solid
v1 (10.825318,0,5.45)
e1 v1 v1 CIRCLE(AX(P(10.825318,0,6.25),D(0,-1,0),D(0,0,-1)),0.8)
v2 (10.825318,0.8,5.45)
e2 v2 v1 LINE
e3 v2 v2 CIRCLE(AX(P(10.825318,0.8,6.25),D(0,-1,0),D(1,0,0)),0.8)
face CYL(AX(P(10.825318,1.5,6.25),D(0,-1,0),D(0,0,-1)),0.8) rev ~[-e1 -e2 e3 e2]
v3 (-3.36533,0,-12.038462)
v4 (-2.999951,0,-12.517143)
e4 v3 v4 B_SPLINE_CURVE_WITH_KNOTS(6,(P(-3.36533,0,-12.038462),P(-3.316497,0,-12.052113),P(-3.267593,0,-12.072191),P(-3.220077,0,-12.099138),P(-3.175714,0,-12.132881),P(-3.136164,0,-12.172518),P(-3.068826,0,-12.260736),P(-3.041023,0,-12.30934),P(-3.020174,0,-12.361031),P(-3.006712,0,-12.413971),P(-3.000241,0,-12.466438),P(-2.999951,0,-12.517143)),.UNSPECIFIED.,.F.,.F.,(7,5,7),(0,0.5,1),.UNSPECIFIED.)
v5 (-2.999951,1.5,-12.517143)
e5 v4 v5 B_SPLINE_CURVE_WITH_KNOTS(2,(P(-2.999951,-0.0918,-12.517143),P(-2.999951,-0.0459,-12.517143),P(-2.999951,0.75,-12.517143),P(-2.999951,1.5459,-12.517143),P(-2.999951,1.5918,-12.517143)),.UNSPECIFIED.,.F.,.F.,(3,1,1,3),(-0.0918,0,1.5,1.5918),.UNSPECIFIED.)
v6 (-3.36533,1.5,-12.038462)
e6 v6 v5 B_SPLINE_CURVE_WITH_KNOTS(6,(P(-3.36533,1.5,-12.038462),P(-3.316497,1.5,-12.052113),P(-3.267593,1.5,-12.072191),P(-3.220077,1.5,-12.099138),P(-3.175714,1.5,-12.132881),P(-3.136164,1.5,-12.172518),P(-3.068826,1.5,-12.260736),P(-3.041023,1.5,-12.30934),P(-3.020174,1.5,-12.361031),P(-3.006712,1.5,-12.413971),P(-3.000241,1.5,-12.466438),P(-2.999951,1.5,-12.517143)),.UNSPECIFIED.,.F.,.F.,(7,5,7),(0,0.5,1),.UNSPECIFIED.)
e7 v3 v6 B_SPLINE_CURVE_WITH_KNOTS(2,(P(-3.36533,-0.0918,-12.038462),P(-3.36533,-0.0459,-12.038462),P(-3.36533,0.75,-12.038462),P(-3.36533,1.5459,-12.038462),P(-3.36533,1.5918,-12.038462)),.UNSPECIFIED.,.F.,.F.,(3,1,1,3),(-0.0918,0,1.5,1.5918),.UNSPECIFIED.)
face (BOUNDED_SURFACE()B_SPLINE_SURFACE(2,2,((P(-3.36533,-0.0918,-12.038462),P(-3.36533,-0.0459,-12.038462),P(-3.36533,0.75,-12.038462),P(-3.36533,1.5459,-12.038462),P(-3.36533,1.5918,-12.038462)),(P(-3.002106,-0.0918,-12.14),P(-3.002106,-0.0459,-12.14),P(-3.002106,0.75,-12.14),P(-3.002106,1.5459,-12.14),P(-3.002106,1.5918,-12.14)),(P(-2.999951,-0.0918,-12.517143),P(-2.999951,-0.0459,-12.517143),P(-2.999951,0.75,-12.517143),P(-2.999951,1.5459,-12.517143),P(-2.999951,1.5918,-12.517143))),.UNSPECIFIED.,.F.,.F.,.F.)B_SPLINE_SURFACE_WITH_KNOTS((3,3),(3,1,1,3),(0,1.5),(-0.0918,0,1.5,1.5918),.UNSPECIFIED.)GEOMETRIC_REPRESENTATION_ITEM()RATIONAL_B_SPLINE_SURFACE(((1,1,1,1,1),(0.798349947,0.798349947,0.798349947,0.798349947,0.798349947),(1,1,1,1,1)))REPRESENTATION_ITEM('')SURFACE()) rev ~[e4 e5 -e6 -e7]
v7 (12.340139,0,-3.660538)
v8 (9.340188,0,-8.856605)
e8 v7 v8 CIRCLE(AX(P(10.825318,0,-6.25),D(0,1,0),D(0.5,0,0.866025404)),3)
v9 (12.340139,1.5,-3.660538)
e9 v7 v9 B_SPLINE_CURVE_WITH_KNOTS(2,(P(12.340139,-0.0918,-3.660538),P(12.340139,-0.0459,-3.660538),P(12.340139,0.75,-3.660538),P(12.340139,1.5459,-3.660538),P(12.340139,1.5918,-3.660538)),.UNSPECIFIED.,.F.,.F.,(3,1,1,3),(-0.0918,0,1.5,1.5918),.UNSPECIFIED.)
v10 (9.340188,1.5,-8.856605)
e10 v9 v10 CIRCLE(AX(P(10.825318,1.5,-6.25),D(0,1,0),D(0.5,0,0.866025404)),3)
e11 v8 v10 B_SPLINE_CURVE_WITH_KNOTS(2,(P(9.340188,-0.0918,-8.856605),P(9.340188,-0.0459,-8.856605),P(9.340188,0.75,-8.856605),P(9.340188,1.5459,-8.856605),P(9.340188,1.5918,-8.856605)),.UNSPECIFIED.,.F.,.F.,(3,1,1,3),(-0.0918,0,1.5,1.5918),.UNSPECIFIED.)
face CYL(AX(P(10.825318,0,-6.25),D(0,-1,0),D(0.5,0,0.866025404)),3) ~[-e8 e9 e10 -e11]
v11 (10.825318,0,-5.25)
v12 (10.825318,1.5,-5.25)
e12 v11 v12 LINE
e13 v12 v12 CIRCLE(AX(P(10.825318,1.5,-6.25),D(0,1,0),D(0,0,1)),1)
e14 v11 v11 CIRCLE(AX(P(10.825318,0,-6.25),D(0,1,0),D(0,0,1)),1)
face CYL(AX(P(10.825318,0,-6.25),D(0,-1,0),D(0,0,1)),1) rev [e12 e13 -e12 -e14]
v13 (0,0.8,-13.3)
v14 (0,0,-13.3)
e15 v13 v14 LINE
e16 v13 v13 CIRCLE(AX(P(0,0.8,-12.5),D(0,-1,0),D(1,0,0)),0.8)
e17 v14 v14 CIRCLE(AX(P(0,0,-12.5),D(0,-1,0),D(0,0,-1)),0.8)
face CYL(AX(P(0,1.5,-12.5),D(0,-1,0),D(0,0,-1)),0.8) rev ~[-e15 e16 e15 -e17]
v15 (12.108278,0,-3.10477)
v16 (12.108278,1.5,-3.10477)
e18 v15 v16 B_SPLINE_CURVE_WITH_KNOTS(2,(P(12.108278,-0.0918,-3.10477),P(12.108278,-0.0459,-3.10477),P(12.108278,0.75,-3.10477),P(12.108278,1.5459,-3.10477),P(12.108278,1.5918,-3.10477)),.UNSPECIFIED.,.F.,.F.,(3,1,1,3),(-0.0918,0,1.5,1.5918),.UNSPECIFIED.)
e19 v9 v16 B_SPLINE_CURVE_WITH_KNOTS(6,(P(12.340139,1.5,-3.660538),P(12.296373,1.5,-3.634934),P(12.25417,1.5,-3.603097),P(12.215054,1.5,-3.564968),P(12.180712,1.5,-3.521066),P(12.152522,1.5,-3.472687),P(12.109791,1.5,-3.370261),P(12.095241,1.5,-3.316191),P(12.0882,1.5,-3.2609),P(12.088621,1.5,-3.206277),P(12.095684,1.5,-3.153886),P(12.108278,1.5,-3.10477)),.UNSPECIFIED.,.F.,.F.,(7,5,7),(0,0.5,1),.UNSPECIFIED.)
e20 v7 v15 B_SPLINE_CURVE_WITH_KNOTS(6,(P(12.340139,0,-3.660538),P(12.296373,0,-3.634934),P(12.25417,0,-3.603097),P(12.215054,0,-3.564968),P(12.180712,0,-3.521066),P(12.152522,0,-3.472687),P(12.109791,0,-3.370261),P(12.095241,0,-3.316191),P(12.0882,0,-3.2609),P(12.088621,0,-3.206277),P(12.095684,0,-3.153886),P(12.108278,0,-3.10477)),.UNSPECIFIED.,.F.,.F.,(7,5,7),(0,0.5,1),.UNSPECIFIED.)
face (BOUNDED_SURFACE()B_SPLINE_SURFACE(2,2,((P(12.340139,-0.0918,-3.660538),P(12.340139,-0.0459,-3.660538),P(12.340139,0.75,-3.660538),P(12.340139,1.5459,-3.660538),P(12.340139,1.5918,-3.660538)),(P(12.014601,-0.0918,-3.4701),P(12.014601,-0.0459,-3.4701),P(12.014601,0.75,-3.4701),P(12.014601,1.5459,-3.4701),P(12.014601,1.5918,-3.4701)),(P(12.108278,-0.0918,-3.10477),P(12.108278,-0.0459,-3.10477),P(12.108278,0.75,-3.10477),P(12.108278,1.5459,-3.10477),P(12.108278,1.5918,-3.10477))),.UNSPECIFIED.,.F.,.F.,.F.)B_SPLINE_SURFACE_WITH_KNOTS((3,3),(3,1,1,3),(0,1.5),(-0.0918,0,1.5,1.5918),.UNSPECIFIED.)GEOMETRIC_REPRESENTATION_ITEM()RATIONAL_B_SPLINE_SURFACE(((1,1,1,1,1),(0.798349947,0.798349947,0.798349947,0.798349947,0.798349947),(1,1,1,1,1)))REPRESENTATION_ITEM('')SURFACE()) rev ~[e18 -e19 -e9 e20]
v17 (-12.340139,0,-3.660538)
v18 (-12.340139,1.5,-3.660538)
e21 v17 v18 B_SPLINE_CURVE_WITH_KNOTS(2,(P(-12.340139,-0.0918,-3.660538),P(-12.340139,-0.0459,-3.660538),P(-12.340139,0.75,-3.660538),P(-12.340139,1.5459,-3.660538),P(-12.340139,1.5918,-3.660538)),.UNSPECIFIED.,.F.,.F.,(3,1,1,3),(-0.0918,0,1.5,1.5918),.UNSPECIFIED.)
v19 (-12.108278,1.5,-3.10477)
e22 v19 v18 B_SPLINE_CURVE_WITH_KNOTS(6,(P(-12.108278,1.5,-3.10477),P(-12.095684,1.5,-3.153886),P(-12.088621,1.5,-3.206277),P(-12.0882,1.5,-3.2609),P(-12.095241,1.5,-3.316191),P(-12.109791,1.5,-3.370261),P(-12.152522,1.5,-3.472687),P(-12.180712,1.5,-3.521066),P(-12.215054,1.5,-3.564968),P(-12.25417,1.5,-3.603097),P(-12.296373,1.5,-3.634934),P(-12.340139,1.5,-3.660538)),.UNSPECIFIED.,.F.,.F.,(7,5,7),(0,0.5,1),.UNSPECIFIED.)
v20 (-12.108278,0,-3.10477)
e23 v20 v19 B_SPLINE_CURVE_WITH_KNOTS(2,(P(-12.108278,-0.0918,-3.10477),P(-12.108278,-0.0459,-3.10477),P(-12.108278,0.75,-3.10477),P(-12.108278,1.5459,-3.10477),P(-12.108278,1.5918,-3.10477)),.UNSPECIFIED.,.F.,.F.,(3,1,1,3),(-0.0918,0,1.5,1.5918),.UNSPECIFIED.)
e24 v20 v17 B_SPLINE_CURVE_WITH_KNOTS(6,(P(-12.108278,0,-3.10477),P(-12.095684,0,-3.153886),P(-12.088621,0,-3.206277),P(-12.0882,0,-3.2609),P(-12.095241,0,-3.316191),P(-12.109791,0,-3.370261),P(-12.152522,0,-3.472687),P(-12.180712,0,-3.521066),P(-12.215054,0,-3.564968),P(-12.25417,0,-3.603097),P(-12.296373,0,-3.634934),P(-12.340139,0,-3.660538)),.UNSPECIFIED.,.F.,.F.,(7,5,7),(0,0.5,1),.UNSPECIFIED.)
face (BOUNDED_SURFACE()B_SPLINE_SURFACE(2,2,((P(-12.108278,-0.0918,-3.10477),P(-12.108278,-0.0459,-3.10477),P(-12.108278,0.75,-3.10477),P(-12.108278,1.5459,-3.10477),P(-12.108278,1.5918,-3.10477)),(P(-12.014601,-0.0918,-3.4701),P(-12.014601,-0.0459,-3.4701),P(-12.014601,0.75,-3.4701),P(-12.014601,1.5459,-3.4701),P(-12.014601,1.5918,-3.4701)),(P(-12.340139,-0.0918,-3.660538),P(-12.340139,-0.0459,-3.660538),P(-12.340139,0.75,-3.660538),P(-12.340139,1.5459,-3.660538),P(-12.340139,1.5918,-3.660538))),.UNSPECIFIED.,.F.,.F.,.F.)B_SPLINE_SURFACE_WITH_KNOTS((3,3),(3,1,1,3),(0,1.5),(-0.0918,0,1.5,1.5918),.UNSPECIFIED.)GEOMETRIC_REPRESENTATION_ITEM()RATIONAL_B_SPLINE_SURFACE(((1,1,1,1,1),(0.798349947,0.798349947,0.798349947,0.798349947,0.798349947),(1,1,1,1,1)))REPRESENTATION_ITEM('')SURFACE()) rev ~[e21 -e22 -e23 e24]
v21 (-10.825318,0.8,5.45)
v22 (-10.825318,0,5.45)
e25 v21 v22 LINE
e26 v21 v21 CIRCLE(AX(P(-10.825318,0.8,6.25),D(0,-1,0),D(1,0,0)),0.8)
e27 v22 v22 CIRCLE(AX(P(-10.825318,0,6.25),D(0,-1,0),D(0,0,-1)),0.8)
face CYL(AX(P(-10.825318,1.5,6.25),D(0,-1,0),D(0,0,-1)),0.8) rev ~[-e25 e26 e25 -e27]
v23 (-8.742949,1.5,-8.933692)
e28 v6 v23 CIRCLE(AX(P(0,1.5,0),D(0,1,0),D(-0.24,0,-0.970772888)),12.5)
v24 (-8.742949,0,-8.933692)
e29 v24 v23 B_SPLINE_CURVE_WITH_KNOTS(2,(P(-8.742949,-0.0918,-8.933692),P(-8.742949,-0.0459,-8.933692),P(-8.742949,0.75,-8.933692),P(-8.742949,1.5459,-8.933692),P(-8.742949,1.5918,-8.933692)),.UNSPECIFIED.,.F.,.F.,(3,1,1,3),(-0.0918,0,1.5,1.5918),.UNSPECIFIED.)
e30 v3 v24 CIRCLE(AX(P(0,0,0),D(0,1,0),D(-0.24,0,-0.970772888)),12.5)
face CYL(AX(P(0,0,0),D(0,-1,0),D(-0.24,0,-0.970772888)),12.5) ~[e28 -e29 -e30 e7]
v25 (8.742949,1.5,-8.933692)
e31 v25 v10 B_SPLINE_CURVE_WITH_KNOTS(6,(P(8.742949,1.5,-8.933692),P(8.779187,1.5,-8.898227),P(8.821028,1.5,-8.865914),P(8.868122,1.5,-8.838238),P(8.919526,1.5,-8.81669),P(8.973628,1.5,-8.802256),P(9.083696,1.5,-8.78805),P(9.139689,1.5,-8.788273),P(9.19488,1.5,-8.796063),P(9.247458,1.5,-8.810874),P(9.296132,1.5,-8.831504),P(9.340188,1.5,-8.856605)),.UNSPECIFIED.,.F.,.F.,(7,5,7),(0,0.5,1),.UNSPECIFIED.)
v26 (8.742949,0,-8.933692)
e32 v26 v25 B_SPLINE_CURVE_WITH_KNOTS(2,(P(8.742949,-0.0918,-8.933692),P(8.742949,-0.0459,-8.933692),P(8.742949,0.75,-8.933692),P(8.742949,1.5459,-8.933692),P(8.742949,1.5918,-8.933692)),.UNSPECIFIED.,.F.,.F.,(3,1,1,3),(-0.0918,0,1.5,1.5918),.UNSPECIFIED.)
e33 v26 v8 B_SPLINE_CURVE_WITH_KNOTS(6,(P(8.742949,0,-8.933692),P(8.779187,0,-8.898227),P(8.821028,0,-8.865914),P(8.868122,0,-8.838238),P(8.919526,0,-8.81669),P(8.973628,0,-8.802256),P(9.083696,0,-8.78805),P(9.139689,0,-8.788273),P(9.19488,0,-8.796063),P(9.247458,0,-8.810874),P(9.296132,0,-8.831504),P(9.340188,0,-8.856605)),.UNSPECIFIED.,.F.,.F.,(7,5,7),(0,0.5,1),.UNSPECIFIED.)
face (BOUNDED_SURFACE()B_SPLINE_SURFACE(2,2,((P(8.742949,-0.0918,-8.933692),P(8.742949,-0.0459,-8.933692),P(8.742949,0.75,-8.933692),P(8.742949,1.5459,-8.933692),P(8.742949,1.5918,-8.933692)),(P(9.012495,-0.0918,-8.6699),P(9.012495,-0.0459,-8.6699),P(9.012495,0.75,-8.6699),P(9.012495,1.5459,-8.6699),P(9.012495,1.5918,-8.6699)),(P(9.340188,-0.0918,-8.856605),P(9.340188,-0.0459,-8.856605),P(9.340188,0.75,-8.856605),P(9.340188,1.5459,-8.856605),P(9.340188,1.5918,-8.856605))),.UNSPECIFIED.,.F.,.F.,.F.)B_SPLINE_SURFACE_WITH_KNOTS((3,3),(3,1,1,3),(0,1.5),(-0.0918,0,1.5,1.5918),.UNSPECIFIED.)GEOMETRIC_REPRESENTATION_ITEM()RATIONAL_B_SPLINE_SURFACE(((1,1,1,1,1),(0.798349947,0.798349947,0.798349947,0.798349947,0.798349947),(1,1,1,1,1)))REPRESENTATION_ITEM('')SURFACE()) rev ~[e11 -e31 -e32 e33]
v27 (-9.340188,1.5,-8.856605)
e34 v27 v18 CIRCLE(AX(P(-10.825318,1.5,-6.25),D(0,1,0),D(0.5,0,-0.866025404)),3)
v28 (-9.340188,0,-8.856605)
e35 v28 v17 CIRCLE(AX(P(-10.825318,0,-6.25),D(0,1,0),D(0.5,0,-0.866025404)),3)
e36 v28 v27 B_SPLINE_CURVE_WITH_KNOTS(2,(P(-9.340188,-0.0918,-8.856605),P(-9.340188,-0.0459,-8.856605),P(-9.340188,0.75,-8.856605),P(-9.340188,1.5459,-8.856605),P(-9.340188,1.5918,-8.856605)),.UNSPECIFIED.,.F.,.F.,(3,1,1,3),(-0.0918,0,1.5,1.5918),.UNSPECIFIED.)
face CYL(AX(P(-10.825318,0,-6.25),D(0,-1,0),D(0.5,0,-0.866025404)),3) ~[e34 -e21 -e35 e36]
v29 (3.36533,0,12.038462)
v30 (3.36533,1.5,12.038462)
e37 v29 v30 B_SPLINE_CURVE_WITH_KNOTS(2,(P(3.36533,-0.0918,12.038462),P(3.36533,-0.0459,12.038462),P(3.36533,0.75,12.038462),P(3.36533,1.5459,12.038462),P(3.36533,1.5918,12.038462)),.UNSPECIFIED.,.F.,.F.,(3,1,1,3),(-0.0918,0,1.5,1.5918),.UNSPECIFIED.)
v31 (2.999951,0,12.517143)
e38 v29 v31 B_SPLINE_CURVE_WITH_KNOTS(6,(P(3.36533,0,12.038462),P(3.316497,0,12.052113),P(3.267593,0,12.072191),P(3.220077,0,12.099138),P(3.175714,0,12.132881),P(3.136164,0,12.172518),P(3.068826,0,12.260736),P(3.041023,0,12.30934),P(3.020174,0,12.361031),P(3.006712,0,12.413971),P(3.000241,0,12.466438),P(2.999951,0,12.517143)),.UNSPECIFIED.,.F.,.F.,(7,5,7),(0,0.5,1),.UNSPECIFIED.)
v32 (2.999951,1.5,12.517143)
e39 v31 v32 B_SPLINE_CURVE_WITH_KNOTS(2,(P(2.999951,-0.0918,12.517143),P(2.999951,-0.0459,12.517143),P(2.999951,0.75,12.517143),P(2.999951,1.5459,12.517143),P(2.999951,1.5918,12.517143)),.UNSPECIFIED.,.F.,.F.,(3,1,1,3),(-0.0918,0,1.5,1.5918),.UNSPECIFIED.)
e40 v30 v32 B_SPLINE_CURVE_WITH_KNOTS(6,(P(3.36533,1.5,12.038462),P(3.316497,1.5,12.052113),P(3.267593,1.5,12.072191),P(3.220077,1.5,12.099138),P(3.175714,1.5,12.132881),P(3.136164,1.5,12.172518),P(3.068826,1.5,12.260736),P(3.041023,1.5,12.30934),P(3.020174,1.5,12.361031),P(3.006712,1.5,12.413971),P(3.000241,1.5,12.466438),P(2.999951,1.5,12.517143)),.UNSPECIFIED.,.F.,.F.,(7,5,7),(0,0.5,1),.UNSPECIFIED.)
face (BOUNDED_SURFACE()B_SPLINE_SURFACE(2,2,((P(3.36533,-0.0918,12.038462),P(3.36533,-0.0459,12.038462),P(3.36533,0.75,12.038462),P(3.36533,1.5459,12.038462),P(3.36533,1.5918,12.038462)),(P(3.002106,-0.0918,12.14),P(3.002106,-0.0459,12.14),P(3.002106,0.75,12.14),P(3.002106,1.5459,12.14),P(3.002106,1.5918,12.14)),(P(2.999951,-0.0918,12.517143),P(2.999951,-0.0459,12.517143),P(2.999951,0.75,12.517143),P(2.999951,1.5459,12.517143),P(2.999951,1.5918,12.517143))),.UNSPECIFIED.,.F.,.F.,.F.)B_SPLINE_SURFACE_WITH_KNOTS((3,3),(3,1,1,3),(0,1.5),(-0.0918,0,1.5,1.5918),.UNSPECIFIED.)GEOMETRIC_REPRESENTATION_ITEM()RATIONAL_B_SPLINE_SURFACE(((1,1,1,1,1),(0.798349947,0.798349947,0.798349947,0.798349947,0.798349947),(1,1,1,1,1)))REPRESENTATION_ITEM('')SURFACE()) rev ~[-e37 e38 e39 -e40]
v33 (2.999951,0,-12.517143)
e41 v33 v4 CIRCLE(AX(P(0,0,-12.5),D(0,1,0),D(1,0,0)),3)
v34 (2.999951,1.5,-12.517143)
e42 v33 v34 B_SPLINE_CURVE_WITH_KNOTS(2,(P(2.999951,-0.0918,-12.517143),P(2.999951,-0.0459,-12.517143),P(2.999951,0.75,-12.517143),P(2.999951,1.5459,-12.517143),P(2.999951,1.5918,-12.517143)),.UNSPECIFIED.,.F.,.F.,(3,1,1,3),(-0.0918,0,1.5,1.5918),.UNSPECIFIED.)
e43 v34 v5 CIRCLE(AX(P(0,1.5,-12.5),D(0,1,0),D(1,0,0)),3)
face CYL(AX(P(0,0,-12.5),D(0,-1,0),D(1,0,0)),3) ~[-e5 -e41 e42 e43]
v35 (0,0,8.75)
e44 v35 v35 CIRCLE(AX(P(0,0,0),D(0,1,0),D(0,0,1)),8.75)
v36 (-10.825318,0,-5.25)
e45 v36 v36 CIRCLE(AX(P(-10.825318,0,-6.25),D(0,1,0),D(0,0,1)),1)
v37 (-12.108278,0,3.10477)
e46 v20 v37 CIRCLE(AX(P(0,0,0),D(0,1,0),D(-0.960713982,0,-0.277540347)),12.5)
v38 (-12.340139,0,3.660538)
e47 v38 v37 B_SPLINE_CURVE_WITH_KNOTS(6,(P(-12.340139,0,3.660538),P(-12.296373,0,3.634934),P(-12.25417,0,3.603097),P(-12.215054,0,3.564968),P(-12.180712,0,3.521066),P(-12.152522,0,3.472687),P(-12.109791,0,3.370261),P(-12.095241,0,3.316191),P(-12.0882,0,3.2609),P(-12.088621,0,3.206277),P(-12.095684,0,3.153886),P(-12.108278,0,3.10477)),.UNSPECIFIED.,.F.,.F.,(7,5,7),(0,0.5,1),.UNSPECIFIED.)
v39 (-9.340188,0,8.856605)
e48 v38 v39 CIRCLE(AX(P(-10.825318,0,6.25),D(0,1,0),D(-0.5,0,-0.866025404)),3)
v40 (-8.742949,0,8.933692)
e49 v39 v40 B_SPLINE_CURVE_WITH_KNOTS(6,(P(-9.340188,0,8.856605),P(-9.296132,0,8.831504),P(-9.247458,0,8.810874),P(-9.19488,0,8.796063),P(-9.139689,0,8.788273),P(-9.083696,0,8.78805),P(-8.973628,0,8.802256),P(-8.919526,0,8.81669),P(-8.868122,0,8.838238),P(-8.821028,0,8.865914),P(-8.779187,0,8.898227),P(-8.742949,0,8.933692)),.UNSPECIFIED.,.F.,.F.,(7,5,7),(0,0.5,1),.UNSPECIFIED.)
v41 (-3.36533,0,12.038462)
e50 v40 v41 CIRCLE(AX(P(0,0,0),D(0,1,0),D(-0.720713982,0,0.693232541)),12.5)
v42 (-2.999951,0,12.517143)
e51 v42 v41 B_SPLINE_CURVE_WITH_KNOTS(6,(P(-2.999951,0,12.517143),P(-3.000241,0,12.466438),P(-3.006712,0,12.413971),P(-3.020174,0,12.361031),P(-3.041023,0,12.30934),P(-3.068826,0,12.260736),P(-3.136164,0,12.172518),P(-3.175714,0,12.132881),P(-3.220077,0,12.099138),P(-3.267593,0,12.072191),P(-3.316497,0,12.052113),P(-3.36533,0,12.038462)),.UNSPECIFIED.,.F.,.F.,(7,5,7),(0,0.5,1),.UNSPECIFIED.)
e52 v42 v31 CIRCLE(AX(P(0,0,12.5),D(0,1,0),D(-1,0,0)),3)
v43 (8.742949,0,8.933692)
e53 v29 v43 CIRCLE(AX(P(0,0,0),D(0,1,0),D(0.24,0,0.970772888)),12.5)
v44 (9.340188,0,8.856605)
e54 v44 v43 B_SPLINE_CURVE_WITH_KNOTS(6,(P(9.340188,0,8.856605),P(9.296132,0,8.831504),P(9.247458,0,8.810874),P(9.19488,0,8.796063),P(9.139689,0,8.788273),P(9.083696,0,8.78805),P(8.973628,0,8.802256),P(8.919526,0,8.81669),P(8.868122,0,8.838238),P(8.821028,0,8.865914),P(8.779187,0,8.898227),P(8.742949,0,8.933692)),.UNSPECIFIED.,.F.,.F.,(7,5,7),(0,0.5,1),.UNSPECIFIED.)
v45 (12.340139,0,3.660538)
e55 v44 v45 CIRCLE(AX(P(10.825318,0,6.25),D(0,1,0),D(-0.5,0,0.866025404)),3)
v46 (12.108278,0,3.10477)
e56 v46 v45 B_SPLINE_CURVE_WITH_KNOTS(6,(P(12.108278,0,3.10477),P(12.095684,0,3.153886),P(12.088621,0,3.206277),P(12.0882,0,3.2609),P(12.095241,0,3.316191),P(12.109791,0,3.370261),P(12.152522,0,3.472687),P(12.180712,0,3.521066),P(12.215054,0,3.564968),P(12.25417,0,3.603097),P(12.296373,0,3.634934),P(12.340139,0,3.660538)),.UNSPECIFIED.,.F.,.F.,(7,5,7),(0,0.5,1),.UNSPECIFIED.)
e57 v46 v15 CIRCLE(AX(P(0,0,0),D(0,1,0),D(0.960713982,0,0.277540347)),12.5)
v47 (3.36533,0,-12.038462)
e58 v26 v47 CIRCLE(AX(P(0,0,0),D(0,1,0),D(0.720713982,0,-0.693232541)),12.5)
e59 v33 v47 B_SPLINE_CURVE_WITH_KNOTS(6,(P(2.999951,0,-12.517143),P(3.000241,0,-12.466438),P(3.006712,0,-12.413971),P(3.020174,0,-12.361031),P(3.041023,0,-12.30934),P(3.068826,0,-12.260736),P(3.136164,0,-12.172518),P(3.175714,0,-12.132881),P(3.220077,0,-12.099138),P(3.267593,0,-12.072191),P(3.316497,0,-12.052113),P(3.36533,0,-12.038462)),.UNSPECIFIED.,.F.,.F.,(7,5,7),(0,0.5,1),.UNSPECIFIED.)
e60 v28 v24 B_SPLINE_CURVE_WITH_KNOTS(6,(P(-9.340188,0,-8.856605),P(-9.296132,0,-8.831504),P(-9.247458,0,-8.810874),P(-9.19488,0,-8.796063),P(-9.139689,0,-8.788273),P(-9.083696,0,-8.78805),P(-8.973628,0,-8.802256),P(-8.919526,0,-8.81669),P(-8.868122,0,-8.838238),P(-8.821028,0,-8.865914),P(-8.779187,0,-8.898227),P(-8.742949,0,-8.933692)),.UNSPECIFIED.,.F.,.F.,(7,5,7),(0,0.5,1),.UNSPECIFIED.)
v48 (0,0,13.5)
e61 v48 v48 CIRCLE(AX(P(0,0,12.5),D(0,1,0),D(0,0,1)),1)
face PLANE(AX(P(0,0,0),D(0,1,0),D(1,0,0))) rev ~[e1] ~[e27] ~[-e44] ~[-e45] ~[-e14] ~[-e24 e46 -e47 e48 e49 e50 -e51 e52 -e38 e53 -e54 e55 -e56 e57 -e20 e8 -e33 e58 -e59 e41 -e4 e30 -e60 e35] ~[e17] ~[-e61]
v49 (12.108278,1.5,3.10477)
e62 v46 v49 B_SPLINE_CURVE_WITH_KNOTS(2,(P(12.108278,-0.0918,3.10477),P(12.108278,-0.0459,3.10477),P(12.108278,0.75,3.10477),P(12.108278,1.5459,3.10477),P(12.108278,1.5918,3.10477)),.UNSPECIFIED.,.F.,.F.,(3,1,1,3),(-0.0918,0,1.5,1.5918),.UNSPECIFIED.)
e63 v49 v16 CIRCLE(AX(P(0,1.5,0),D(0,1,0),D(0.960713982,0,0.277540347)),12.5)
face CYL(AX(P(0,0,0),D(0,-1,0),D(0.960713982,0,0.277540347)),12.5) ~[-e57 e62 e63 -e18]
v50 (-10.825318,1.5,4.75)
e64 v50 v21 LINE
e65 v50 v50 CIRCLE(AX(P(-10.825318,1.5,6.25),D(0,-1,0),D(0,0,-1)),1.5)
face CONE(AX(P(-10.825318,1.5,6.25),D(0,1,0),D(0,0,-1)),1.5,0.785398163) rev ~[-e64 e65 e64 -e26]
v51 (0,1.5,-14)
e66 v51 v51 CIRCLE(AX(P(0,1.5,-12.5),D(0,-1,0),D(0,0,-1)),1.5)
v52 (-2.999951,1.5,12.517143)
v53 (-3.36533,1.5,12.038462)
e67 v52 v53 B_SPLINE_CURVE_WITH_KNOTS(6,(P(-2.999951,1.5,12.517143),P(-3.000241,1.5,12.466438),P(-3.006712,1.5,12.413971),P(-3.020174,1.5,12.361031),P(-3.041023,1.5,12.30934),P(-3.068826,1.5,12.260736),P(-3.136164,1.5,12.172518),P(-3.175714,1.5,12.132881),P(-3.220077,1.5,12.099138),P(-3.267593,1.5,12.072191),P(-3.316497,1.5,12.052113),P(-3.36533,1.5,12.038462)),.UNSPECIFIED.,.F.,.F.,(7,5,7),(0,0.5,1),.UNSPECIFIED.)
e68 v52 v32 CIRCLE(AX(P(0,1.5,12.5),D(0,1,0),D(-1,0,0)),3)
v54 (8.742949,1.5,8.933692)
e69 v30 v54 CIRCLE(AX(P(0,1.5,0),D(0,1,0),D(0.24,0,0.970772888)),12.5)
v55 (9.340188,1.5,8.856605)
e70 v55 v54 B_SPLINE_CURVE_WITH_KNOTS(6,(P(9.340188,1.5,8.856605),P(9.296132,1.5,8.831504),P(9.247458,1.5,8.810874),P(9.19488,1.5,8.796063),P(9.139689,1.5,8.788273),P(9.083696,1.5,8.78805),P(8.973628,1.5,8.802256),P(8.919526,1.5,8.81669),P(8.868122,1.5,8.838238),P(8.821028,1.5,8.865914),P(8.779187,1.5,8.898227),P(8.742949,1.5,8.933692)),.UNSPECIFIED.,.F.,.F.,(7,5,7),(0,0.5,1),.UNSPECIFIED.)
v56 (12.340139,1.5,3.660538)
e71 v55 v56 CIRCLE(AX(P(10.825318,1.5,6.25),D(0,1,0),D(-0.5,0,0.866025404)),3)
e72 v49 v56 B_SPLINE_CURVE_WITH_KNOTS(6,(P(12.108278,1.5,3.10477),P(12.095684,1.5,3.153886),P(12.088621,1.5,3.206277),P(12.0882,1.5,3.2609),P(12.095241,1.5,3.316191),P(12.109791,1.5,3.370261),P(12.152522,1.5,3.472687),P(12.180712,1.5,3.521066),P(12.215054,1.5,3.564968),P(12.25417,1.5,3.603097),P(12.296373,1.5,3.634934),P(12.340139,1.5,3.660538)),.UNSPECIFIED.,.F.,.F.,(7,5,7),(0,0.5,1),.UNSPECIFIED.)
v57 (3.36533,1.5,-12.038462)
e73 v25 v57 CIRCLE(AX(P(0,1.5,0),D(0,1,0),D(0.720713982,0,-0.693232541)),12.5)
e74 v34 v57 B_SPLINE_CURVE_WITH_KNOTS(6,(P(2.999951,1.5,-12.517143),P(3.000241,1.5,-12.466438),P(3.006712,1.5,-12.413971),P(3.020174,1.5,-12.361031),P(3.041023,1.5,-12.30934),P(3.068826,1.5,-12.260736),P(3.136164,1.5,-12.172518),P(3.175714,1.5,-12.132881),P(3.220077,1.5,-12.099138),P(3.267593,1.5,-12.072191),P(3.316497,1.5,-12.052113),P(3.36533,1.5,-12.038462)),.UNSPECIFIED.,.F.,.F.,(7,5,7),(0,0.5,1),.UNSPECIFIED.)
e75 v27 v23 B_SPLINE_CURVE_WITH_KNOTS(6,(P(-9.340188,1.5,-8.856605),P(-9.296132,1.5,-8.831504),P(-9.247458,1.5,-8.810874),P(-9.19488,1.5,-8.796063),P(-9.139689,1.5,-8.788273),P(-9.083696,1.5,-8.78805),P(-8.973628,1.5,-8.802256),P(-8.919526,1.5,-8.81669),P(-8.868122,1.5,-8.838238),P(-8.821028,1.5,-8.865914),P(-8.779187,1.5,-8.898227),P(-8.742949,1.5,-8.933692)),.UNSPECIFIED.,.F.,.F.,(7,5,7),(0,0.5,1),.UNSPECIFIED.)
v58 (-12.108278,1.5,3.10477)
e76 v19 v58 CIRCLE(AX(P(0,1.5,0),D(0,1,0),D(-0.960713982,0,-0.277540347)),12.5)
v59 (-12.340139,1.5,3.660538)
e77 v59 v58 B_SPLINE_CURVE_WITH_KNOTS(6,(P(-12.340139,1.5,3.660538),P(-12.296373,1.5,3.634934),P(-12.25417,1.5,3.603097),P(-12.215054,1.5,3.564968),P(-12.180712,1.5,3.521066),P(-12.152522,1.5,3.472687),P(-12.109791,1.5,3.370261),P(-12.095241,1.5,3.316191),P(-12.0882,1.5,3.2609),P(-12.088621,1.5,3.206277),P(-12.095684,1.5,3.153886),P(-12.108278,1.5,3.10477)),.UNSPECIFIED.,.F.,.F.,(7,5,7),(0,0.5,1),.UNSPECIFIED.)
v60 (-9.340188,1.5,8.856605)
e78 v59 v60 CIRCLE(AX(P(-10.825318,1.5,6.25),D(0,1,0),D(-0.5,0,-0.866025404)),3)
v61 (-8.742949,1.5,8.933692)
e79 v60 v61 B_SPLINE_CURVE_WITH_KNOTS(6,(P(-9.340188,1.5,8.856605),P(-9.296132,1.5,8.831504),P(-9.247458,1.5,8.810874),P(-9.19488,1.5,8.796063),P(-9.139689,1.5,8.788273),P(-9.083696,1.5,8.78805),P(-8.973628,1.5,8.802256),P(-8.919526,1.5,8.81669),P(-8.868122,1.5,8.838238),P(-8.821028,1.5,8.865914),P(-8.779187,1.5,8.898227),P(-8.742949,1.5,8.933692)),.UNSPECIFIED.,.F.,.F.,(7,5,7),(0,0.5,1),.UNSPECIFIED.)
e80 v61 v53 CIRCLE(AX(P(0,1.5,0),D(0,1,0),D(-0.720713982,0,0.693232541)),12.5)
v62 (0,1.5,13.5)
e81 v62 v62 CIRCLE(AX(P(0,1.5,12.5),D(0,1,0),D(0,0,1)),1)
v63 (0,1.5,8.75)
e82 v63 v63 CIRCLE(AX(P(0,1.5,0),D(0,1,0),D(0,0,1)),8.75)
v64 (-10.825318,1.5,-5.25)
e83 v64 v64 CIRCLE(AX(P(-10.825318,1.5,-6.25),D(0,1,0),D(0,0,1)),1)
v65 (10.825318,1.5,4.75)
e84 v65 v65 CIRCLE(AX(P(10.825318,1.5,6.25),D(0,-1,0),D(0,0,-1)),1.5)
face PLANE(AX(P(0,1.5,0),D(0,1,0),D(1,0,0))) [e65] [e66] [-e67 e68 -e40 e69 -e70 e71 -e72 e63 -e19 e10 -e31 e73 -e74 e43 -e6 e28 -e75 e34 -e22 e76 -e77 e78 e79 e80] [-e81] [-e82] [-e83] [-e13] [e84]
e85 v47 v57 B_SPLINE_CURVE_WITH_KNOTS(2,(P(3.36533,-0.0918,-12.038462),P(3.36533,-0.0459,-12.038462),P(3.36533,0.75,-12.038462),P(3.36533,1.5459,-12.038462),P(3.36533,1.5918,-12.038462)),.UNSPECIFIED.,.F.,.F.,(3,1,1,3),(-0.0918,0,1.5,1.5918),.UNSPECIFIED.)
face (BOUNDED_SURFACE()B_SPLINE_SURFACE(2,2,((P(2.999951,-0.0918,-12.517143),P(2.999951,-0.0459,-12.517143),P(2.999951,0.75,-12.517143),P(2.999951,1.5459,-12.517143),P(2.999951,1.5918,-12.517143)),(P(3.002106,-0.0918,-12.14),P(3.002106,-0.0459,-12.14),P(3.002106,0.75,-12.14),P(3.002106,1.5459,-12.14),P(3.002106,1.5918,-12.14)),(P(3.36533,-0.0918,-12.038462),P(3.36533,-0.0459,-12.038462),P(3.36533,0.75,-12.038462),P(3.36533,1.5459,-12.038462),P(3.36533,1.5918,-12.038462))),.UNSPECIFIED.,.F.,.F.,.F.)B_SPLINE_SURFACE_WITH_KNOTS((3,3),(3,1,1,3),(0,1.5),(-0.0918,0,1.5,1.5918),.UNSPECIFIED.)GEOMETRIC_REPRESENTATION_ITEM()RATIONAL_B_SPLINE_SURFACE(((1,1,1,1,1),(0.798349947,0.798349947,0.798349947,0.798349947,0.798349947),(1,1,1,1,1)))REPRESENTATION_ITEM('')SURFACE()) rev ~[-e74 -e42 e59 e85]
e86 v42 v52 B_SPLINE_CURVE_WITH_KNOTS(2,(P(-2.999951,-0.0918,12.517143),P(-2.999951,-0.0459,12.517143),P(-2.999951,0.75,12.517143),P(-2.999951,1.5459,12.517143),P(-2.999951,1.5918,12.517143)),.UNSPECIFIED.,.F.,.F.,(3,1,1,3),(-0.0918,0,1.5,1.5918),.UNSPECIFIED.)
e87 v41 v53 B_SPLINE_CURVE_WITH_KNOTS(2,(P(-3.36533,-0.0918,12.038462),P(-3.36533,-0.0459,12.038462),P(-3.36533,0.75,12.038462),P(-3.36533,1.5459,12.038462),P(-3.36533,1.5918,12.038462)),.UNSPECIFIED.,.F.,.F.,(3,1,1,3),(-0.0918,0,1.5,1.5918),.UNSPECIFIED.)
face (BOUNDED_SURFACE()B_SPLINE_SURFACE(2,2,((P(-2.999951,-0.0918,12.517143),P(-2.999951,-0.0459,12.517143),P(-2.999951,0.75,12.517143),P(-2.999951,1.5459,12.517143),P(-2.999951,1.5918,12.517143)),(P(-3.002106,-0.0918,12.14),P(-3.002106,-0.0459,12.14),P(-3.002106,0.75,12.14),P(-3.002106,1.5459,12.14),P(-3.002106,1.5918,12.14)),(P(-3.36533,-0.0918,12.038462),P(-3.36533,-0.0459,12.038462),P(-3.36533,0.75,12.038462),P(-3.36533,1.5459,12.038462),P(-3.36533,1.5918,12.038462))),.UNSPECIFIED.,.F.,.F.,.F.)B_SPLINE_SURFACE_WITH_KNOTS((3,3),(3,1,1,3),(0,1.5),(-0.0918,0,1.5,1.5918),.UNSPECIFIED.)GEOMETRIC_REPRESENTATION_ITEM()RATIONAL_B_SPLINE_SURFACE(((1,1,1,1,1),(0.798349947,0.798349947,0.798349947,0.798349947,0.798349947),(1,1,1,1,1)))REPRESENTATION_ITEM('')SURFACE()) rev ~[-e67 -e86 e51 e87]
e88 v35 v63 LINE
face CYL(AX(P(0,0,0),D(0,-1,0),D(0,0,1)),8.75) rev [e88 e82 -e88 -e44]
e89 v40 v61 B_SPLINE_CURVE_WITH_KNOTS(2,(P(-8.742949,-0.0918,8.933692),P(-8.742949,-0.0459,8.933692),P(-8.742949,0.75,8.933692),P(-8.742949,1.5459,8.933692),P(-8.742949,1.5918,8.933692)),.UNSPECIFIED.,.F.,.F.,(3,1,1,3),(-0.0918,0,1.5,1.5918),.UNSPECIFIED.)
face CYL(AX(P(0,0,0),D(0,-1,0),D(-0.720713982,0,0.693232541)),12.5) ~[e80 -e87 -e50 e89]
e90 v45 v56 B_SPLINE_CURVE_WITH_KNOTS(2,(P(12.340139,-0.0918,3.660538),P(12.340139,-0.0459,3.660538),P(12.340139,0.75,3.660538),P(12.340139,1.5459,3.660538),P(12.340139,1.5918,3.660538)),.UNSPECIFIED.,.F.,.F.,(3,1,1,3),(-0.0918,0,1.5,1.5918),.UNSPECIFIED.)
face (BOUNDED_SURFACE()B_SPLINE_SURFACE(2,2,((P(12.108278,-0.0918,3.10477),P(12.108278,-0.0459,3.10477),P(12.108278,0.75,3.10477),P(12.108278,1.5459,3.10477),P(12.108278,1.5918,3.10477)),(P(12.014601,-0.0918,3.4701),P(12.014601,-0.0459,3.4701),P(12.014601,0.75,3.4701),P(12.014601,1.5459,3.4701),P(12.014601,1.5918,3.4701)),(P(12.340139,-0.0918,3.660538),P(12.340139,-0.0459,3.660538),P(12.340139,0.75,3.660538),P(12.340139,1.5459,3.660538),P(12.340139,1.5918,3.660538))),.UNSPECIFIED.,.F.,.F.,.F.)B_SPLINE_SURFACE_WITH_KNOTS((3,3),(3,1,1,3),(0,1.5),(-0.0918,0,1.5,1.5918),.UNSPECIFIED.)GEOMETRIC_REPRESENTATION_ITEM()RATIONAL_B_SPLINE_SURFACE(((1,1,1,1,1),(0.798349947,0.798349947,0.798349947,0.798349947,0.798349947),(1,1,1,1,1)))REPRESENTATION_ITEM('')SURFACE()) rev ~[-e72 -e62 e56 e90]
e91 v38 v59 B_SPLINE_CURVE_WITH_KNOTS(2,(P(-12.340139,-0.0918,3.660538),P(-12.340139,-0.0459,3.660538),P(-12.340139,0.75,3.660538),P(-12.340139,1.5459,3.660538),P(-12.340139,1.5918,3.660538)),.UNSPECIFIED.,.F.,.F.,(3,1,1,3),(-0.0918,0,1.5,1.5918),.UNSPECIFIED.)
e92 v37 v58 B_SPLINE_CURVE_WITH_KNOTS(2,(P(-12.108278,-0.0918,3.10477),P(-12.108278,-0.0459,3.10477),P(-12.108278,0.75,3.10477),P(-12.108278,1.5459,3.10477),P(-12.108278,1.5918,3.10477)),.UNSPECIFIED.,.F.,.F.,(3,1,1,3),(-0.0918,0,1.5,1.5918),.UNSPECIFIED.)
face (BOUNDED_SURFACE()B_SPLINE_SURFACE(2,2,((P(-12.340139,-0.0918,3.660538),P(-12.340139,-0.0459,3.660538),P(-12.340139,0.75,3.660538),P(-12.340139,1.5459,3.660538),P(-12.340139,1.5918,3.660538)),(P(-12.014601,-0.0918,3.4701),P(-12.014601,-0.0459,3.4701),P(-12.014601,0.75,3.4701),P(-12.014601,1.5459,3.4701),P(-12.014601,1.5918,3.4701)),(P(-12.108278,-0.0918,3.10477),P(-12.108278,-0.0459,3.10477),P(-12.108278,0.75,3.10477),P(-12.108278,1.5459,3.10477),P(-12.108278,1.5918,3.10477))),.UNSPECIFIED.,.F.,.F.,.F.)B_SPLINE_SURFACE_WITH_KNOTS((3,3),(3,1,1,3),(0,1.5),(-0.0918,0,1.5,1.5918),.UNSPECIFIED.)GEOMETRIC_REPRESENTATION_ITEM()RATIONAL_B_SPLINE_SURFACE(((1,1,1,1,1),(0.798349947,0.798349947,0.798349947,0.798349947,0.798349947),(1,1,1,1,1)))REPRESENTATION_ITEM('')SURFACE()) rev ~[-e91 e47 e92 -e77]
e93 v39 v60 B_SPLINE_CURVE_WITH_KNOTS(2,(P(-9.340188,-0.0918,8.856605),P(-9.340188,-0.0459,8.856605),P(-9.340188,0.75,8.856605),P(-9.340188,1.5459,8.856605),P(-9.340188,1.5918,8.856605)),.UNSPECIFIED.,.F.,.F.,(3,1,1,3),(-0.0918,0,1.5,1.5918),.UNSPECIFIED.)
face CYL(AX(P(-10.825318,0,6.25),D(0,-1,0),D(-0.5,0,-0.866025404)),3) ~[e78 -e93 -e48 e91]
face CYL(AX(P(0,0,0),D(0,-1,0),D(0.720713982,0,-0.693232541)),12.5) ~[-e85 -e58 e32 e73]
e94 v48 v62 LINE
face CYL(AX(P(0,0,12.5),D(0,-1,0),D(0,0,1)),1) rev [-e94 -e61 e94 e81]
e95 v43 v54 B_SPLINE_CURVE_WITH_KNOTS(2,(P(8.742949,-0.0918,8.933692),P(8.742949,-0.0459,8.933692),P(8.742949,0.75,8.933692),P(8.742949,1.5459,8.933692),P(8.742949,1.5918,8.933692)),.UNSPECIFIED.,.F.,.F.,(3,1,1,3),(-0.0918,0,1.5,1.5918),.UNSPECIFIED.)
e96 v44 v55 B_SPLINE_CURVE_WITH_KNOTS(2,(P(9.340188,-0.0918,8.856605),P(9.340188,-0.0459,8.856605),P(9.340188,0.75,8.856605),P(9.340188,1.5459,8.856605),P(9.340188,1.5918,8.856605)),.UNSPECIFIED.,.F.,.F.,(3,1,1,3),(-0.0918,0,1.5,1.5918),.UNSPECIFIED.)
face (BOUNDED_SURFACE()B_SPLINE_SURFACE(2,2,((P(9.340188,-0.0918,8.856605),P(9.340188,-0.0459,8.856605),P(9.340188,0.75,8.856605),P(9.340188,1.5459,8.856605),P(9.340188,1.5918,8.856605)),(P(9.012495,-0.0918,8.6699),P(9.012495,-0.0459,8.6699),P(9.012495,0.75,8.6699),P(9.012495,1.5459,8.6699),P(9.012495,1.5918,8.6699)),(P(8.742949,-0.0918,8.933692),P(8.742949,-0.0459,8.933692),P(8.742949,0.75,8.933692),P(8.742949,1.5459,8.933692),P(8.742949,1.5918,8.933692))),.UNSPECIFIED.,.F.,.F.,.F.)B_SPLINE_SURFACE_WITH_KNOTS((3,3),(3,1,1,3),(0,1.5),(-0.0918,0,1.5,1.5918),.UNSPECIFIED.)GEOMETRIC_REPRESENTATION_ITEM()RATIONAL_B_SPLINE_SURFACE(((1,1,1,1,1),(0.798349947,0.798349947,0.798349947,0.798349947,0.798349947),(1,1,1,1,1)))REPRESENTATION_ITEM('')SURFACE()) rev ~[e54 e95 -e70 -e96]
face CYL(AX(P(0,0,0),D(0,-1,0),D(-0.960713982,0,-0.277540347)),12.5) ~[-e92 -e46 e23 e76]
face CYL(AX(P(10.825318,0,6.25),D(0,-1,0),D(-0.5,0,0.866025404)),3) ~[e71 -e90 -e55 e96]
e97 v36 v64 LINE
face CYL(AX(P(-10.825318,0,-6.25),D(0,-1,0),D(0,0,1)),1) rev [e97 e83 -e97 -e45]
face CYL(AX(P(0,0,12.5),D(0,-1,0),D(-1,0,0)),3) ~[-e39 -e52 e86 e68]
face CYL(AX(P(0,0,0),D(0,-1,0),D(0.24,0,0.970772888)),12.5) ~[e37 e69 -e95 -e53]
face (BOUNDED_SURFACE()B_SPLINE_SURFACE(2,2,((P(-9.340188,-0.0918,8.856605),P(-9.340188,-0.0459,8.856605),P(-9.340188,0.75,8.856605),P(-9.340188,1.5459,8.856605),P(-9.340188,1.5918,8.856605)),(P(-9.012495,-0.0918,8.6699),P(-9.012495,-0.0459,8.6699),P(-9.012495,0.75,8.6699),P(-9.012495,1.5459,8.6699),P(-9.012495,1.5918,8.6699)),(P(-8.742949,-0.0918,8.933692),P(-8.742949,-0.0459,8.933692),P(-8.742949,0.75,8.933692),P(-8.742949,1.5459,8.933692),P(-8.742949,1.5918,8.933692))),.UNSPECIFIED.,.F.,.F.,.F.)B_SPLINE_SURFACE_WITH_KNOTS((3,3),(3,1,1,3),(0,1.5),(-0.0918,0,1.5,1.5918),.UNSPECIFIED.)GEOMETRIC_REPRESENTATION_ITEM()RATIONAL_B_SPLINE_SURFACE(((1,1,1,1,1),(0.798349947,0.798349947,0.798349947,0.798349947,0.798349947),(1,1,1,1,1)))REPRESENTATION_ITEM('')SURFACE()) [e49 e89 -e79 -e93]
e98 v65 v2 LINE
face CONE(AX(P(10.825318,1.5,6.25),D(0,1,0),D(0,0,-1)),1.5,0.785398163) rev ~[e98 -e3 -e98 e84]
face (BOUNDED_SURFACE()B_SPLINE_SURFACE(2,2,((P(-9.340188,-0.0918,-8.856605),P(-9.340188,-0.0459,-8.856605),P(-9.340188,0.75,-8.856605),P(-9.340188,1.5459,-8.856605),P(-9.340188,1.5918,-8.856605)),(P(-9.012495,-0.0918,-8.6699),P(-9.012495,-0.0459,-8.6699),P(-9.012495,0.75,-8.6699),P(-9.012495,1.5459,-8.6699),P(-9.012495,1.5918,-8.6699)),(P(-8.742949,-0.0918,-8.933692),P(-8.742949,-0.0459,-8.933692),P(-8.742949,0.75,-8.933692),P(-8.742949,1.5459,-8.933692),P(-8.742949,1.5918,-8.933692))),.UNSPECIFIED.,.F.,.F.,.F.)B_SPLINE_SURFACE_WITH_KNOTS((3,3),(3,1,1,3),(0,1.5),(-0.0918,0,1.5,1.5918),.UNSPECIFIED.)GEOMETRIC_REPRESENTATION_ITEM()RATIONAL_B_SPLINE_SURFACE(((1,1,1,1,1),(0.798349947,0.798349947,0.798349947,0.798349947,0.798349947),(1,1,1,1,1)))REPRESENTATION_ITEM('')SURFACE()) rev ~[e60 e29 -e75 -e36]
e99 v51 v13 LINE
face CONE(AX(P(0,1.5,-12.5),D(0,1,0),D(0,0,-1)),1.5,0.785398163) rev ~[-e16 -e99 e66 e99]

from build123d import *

# Parameters (mm, degrees)
SKETCH1_R                     = 8.75
SKETCH1_R_2                   = 1
BOSS_EXTRUDE1_DEPTH           = 1.5
CSK_FOR_M3_SFHCS1_D           = 1.6
CSK_FOR_M3_SFHCS1_DEPTH       = 7.5
CSK_FOR_M3_SFHCS1_CSINK_D     = 3
CSK_FOR_M3_SFHCS1_CSINK_ANGLE = 90
CSK_FOR_M3_SFHCS1_TIP         = 0.480688495
FILLET1_R                     = 0.5


with BuildPart() as part:
    # Sketch1 → Boss-Extrude1 (new body)
    with BuildSketch(Plane(origin=(0, 0, 0), x_dir=(1, 0, 0), z_dir=(0, 1, 0))):
        with BuildLine():
            Line((-3, -12.1346611), (-3, -12.5))
            ThreePointArc((-3, -12.5), (0, -15.5), (3, -12.5))
            Line((3, -12.5), (3, -12.1346611))
            ThreePointArc((3, -12.1346611), (6.25, -10.825317547), (9.008924778, -8.665406761))
            Line((9.008924778, -8.665406761), (9.325317547, -8.848076211))
            ThreePointArc((9.325317547, -8.848076211), (13.423393759, -7.75), (12.325317547, -3.651923789))
            Line((12.325317547, -3.651923789), (12.008924778, -3.469254338))
            ThreePointArc((12.008924778, -3.469254338), (12.5, 0), (12.008924778, 3.469254338))
            Line((12.008924778, 3.469254338), (12.325317547, 3.651923789))
            ThreePointArc((12.325317547, 3.651923789), (13.423393759, 7.75), (9.325317547, 8.848076211))
            Line((9.325317547, 8.848076211), (9.008924778, 8.665406761))
            ThreePointArc((9.008924778, 8.665406761), (6.25, 10.825317547), (3, 12.1346611))
            Line((3, 12.1346611), (3, 12.5))
            ThreePointArc((3, 12.5), (0, 15.5), (-3, 12.5))
            Line((-3, 12.5), (-3, 12.1346611))
            ThreePointArc((-3, 12.1346611), (-6.25, 10.825317547), (-9.008924778, 8.665406761))
            Line((-9.008924778, 8.665406761), (-9.325317547, 8.848076211))
            ThreePointArc((-9.325317547, 8.848076211), (-13.423393759, 7.75), (-12.325317547, 3.651923789))
            Line((-12.325317547, 3.651923789), (-12.008924778, 3.469254338))
            ThreePointArc((-12.008924778, 3.469254338), (-12.5, 0), (-12.008924778, -3.469254338))
            Line((-12.008924778, -3.469254338), (-12.325317547, -3.651923789))
            ThreePointArc((-12.325317547, -3.651923789), (-13.423393759, -7.75), (-9.325317547, -8.848076211))
            Line((-9.325317547, -8.848076211), (-9.008924778, -8.665406761))
            ThreePointArc((-9.008924778, -8.665406761), (-6.25, -10.825317547), (-3, -12.1346611))
        make_face()
        with Locations(Location((0, 0, 0), (0, 0, 270))):
            Circle(SKETCH1_R, mode=Mode.SUBTRACT)
        with Locations(Location((-10.825317547, 6.25, 0), (0, 0, 270))):
            Circle(SKETCH1_R_2, mode=Mode.SUBTRACT)
        with Locations(Location((10.825317547, 6.25, 0), (0, 0, 270))):
            Circle(SKETCH1_R_2, mode=Mode.SUBTRACT)
        with Locations(Location((0, -12.5, 0), (0, 0, 270))):
            Circle(SKETCH1_R_2, mode=Mode.SUBTRACT)
    extrude(amount=BOSS_EXTRUDE1_DEPTH)

    # CSK for M3 SFHCS1
    with Locations(Plane(origin=(-10.825317547, 1.5, 6.25), x_dir=(0, 0, 1), z_dir=(0, 1, 0))):
        with Locations((0, 0), (-18.75, 10.825317547), (0, 21.650635094)):
            CounterSinkHole(CSK_FOR_M3_SFHCS1_D / 2, CSK_FOR_M3_SFHCS1_CSINK_D / 2, depth=CSK_FOR_M3_SFHCS1_DEPTH, counter_sink_angle=CSK_FOR_M3_SFHCS1_CSINK_ANGLE)
            with Locations((0, 0, -(CSK_FOR_M3_SFHCS1_DEPTH + CSK_FOR_M3_SFHCS1_TIP / 2))):  # 118° drill point
                Cone(0, CSK_FOR_M3_SFHCS1_D / 2, CSK_FOR_M3_SFHCS1_TIP, mode=Mode.SUBTRACT)

    # Fillet1
    fillet1_edges = [part.edges().sort_by_distance(p)[0] for p in [
        (-3, 0.75, 12.1346611),
        (3, 0.75, 12.1346611),
        (9.008924778, 0.75, 8.665406761),
        (12.008924778, 0.75, 3.469254338),
        (12.008924778, 0.75, -3.469254338),
        (9.008924778, 0.75, -8.665406761),
        (3, 0.75, -12.1346611),
        (-3, 0.75, -12.1346611),
        (-9.008924778, 0.75, -8.665406761),
        (-12.008924778, 0.75, -3.469254338),
        (-12.008924778, 0.75, 3.469254338),
        (-9.008924778, 0.75, 8.665406761),
    ]]
    fillet(fillet1_edges, radius=FILLET1_R)


solid = part.part
